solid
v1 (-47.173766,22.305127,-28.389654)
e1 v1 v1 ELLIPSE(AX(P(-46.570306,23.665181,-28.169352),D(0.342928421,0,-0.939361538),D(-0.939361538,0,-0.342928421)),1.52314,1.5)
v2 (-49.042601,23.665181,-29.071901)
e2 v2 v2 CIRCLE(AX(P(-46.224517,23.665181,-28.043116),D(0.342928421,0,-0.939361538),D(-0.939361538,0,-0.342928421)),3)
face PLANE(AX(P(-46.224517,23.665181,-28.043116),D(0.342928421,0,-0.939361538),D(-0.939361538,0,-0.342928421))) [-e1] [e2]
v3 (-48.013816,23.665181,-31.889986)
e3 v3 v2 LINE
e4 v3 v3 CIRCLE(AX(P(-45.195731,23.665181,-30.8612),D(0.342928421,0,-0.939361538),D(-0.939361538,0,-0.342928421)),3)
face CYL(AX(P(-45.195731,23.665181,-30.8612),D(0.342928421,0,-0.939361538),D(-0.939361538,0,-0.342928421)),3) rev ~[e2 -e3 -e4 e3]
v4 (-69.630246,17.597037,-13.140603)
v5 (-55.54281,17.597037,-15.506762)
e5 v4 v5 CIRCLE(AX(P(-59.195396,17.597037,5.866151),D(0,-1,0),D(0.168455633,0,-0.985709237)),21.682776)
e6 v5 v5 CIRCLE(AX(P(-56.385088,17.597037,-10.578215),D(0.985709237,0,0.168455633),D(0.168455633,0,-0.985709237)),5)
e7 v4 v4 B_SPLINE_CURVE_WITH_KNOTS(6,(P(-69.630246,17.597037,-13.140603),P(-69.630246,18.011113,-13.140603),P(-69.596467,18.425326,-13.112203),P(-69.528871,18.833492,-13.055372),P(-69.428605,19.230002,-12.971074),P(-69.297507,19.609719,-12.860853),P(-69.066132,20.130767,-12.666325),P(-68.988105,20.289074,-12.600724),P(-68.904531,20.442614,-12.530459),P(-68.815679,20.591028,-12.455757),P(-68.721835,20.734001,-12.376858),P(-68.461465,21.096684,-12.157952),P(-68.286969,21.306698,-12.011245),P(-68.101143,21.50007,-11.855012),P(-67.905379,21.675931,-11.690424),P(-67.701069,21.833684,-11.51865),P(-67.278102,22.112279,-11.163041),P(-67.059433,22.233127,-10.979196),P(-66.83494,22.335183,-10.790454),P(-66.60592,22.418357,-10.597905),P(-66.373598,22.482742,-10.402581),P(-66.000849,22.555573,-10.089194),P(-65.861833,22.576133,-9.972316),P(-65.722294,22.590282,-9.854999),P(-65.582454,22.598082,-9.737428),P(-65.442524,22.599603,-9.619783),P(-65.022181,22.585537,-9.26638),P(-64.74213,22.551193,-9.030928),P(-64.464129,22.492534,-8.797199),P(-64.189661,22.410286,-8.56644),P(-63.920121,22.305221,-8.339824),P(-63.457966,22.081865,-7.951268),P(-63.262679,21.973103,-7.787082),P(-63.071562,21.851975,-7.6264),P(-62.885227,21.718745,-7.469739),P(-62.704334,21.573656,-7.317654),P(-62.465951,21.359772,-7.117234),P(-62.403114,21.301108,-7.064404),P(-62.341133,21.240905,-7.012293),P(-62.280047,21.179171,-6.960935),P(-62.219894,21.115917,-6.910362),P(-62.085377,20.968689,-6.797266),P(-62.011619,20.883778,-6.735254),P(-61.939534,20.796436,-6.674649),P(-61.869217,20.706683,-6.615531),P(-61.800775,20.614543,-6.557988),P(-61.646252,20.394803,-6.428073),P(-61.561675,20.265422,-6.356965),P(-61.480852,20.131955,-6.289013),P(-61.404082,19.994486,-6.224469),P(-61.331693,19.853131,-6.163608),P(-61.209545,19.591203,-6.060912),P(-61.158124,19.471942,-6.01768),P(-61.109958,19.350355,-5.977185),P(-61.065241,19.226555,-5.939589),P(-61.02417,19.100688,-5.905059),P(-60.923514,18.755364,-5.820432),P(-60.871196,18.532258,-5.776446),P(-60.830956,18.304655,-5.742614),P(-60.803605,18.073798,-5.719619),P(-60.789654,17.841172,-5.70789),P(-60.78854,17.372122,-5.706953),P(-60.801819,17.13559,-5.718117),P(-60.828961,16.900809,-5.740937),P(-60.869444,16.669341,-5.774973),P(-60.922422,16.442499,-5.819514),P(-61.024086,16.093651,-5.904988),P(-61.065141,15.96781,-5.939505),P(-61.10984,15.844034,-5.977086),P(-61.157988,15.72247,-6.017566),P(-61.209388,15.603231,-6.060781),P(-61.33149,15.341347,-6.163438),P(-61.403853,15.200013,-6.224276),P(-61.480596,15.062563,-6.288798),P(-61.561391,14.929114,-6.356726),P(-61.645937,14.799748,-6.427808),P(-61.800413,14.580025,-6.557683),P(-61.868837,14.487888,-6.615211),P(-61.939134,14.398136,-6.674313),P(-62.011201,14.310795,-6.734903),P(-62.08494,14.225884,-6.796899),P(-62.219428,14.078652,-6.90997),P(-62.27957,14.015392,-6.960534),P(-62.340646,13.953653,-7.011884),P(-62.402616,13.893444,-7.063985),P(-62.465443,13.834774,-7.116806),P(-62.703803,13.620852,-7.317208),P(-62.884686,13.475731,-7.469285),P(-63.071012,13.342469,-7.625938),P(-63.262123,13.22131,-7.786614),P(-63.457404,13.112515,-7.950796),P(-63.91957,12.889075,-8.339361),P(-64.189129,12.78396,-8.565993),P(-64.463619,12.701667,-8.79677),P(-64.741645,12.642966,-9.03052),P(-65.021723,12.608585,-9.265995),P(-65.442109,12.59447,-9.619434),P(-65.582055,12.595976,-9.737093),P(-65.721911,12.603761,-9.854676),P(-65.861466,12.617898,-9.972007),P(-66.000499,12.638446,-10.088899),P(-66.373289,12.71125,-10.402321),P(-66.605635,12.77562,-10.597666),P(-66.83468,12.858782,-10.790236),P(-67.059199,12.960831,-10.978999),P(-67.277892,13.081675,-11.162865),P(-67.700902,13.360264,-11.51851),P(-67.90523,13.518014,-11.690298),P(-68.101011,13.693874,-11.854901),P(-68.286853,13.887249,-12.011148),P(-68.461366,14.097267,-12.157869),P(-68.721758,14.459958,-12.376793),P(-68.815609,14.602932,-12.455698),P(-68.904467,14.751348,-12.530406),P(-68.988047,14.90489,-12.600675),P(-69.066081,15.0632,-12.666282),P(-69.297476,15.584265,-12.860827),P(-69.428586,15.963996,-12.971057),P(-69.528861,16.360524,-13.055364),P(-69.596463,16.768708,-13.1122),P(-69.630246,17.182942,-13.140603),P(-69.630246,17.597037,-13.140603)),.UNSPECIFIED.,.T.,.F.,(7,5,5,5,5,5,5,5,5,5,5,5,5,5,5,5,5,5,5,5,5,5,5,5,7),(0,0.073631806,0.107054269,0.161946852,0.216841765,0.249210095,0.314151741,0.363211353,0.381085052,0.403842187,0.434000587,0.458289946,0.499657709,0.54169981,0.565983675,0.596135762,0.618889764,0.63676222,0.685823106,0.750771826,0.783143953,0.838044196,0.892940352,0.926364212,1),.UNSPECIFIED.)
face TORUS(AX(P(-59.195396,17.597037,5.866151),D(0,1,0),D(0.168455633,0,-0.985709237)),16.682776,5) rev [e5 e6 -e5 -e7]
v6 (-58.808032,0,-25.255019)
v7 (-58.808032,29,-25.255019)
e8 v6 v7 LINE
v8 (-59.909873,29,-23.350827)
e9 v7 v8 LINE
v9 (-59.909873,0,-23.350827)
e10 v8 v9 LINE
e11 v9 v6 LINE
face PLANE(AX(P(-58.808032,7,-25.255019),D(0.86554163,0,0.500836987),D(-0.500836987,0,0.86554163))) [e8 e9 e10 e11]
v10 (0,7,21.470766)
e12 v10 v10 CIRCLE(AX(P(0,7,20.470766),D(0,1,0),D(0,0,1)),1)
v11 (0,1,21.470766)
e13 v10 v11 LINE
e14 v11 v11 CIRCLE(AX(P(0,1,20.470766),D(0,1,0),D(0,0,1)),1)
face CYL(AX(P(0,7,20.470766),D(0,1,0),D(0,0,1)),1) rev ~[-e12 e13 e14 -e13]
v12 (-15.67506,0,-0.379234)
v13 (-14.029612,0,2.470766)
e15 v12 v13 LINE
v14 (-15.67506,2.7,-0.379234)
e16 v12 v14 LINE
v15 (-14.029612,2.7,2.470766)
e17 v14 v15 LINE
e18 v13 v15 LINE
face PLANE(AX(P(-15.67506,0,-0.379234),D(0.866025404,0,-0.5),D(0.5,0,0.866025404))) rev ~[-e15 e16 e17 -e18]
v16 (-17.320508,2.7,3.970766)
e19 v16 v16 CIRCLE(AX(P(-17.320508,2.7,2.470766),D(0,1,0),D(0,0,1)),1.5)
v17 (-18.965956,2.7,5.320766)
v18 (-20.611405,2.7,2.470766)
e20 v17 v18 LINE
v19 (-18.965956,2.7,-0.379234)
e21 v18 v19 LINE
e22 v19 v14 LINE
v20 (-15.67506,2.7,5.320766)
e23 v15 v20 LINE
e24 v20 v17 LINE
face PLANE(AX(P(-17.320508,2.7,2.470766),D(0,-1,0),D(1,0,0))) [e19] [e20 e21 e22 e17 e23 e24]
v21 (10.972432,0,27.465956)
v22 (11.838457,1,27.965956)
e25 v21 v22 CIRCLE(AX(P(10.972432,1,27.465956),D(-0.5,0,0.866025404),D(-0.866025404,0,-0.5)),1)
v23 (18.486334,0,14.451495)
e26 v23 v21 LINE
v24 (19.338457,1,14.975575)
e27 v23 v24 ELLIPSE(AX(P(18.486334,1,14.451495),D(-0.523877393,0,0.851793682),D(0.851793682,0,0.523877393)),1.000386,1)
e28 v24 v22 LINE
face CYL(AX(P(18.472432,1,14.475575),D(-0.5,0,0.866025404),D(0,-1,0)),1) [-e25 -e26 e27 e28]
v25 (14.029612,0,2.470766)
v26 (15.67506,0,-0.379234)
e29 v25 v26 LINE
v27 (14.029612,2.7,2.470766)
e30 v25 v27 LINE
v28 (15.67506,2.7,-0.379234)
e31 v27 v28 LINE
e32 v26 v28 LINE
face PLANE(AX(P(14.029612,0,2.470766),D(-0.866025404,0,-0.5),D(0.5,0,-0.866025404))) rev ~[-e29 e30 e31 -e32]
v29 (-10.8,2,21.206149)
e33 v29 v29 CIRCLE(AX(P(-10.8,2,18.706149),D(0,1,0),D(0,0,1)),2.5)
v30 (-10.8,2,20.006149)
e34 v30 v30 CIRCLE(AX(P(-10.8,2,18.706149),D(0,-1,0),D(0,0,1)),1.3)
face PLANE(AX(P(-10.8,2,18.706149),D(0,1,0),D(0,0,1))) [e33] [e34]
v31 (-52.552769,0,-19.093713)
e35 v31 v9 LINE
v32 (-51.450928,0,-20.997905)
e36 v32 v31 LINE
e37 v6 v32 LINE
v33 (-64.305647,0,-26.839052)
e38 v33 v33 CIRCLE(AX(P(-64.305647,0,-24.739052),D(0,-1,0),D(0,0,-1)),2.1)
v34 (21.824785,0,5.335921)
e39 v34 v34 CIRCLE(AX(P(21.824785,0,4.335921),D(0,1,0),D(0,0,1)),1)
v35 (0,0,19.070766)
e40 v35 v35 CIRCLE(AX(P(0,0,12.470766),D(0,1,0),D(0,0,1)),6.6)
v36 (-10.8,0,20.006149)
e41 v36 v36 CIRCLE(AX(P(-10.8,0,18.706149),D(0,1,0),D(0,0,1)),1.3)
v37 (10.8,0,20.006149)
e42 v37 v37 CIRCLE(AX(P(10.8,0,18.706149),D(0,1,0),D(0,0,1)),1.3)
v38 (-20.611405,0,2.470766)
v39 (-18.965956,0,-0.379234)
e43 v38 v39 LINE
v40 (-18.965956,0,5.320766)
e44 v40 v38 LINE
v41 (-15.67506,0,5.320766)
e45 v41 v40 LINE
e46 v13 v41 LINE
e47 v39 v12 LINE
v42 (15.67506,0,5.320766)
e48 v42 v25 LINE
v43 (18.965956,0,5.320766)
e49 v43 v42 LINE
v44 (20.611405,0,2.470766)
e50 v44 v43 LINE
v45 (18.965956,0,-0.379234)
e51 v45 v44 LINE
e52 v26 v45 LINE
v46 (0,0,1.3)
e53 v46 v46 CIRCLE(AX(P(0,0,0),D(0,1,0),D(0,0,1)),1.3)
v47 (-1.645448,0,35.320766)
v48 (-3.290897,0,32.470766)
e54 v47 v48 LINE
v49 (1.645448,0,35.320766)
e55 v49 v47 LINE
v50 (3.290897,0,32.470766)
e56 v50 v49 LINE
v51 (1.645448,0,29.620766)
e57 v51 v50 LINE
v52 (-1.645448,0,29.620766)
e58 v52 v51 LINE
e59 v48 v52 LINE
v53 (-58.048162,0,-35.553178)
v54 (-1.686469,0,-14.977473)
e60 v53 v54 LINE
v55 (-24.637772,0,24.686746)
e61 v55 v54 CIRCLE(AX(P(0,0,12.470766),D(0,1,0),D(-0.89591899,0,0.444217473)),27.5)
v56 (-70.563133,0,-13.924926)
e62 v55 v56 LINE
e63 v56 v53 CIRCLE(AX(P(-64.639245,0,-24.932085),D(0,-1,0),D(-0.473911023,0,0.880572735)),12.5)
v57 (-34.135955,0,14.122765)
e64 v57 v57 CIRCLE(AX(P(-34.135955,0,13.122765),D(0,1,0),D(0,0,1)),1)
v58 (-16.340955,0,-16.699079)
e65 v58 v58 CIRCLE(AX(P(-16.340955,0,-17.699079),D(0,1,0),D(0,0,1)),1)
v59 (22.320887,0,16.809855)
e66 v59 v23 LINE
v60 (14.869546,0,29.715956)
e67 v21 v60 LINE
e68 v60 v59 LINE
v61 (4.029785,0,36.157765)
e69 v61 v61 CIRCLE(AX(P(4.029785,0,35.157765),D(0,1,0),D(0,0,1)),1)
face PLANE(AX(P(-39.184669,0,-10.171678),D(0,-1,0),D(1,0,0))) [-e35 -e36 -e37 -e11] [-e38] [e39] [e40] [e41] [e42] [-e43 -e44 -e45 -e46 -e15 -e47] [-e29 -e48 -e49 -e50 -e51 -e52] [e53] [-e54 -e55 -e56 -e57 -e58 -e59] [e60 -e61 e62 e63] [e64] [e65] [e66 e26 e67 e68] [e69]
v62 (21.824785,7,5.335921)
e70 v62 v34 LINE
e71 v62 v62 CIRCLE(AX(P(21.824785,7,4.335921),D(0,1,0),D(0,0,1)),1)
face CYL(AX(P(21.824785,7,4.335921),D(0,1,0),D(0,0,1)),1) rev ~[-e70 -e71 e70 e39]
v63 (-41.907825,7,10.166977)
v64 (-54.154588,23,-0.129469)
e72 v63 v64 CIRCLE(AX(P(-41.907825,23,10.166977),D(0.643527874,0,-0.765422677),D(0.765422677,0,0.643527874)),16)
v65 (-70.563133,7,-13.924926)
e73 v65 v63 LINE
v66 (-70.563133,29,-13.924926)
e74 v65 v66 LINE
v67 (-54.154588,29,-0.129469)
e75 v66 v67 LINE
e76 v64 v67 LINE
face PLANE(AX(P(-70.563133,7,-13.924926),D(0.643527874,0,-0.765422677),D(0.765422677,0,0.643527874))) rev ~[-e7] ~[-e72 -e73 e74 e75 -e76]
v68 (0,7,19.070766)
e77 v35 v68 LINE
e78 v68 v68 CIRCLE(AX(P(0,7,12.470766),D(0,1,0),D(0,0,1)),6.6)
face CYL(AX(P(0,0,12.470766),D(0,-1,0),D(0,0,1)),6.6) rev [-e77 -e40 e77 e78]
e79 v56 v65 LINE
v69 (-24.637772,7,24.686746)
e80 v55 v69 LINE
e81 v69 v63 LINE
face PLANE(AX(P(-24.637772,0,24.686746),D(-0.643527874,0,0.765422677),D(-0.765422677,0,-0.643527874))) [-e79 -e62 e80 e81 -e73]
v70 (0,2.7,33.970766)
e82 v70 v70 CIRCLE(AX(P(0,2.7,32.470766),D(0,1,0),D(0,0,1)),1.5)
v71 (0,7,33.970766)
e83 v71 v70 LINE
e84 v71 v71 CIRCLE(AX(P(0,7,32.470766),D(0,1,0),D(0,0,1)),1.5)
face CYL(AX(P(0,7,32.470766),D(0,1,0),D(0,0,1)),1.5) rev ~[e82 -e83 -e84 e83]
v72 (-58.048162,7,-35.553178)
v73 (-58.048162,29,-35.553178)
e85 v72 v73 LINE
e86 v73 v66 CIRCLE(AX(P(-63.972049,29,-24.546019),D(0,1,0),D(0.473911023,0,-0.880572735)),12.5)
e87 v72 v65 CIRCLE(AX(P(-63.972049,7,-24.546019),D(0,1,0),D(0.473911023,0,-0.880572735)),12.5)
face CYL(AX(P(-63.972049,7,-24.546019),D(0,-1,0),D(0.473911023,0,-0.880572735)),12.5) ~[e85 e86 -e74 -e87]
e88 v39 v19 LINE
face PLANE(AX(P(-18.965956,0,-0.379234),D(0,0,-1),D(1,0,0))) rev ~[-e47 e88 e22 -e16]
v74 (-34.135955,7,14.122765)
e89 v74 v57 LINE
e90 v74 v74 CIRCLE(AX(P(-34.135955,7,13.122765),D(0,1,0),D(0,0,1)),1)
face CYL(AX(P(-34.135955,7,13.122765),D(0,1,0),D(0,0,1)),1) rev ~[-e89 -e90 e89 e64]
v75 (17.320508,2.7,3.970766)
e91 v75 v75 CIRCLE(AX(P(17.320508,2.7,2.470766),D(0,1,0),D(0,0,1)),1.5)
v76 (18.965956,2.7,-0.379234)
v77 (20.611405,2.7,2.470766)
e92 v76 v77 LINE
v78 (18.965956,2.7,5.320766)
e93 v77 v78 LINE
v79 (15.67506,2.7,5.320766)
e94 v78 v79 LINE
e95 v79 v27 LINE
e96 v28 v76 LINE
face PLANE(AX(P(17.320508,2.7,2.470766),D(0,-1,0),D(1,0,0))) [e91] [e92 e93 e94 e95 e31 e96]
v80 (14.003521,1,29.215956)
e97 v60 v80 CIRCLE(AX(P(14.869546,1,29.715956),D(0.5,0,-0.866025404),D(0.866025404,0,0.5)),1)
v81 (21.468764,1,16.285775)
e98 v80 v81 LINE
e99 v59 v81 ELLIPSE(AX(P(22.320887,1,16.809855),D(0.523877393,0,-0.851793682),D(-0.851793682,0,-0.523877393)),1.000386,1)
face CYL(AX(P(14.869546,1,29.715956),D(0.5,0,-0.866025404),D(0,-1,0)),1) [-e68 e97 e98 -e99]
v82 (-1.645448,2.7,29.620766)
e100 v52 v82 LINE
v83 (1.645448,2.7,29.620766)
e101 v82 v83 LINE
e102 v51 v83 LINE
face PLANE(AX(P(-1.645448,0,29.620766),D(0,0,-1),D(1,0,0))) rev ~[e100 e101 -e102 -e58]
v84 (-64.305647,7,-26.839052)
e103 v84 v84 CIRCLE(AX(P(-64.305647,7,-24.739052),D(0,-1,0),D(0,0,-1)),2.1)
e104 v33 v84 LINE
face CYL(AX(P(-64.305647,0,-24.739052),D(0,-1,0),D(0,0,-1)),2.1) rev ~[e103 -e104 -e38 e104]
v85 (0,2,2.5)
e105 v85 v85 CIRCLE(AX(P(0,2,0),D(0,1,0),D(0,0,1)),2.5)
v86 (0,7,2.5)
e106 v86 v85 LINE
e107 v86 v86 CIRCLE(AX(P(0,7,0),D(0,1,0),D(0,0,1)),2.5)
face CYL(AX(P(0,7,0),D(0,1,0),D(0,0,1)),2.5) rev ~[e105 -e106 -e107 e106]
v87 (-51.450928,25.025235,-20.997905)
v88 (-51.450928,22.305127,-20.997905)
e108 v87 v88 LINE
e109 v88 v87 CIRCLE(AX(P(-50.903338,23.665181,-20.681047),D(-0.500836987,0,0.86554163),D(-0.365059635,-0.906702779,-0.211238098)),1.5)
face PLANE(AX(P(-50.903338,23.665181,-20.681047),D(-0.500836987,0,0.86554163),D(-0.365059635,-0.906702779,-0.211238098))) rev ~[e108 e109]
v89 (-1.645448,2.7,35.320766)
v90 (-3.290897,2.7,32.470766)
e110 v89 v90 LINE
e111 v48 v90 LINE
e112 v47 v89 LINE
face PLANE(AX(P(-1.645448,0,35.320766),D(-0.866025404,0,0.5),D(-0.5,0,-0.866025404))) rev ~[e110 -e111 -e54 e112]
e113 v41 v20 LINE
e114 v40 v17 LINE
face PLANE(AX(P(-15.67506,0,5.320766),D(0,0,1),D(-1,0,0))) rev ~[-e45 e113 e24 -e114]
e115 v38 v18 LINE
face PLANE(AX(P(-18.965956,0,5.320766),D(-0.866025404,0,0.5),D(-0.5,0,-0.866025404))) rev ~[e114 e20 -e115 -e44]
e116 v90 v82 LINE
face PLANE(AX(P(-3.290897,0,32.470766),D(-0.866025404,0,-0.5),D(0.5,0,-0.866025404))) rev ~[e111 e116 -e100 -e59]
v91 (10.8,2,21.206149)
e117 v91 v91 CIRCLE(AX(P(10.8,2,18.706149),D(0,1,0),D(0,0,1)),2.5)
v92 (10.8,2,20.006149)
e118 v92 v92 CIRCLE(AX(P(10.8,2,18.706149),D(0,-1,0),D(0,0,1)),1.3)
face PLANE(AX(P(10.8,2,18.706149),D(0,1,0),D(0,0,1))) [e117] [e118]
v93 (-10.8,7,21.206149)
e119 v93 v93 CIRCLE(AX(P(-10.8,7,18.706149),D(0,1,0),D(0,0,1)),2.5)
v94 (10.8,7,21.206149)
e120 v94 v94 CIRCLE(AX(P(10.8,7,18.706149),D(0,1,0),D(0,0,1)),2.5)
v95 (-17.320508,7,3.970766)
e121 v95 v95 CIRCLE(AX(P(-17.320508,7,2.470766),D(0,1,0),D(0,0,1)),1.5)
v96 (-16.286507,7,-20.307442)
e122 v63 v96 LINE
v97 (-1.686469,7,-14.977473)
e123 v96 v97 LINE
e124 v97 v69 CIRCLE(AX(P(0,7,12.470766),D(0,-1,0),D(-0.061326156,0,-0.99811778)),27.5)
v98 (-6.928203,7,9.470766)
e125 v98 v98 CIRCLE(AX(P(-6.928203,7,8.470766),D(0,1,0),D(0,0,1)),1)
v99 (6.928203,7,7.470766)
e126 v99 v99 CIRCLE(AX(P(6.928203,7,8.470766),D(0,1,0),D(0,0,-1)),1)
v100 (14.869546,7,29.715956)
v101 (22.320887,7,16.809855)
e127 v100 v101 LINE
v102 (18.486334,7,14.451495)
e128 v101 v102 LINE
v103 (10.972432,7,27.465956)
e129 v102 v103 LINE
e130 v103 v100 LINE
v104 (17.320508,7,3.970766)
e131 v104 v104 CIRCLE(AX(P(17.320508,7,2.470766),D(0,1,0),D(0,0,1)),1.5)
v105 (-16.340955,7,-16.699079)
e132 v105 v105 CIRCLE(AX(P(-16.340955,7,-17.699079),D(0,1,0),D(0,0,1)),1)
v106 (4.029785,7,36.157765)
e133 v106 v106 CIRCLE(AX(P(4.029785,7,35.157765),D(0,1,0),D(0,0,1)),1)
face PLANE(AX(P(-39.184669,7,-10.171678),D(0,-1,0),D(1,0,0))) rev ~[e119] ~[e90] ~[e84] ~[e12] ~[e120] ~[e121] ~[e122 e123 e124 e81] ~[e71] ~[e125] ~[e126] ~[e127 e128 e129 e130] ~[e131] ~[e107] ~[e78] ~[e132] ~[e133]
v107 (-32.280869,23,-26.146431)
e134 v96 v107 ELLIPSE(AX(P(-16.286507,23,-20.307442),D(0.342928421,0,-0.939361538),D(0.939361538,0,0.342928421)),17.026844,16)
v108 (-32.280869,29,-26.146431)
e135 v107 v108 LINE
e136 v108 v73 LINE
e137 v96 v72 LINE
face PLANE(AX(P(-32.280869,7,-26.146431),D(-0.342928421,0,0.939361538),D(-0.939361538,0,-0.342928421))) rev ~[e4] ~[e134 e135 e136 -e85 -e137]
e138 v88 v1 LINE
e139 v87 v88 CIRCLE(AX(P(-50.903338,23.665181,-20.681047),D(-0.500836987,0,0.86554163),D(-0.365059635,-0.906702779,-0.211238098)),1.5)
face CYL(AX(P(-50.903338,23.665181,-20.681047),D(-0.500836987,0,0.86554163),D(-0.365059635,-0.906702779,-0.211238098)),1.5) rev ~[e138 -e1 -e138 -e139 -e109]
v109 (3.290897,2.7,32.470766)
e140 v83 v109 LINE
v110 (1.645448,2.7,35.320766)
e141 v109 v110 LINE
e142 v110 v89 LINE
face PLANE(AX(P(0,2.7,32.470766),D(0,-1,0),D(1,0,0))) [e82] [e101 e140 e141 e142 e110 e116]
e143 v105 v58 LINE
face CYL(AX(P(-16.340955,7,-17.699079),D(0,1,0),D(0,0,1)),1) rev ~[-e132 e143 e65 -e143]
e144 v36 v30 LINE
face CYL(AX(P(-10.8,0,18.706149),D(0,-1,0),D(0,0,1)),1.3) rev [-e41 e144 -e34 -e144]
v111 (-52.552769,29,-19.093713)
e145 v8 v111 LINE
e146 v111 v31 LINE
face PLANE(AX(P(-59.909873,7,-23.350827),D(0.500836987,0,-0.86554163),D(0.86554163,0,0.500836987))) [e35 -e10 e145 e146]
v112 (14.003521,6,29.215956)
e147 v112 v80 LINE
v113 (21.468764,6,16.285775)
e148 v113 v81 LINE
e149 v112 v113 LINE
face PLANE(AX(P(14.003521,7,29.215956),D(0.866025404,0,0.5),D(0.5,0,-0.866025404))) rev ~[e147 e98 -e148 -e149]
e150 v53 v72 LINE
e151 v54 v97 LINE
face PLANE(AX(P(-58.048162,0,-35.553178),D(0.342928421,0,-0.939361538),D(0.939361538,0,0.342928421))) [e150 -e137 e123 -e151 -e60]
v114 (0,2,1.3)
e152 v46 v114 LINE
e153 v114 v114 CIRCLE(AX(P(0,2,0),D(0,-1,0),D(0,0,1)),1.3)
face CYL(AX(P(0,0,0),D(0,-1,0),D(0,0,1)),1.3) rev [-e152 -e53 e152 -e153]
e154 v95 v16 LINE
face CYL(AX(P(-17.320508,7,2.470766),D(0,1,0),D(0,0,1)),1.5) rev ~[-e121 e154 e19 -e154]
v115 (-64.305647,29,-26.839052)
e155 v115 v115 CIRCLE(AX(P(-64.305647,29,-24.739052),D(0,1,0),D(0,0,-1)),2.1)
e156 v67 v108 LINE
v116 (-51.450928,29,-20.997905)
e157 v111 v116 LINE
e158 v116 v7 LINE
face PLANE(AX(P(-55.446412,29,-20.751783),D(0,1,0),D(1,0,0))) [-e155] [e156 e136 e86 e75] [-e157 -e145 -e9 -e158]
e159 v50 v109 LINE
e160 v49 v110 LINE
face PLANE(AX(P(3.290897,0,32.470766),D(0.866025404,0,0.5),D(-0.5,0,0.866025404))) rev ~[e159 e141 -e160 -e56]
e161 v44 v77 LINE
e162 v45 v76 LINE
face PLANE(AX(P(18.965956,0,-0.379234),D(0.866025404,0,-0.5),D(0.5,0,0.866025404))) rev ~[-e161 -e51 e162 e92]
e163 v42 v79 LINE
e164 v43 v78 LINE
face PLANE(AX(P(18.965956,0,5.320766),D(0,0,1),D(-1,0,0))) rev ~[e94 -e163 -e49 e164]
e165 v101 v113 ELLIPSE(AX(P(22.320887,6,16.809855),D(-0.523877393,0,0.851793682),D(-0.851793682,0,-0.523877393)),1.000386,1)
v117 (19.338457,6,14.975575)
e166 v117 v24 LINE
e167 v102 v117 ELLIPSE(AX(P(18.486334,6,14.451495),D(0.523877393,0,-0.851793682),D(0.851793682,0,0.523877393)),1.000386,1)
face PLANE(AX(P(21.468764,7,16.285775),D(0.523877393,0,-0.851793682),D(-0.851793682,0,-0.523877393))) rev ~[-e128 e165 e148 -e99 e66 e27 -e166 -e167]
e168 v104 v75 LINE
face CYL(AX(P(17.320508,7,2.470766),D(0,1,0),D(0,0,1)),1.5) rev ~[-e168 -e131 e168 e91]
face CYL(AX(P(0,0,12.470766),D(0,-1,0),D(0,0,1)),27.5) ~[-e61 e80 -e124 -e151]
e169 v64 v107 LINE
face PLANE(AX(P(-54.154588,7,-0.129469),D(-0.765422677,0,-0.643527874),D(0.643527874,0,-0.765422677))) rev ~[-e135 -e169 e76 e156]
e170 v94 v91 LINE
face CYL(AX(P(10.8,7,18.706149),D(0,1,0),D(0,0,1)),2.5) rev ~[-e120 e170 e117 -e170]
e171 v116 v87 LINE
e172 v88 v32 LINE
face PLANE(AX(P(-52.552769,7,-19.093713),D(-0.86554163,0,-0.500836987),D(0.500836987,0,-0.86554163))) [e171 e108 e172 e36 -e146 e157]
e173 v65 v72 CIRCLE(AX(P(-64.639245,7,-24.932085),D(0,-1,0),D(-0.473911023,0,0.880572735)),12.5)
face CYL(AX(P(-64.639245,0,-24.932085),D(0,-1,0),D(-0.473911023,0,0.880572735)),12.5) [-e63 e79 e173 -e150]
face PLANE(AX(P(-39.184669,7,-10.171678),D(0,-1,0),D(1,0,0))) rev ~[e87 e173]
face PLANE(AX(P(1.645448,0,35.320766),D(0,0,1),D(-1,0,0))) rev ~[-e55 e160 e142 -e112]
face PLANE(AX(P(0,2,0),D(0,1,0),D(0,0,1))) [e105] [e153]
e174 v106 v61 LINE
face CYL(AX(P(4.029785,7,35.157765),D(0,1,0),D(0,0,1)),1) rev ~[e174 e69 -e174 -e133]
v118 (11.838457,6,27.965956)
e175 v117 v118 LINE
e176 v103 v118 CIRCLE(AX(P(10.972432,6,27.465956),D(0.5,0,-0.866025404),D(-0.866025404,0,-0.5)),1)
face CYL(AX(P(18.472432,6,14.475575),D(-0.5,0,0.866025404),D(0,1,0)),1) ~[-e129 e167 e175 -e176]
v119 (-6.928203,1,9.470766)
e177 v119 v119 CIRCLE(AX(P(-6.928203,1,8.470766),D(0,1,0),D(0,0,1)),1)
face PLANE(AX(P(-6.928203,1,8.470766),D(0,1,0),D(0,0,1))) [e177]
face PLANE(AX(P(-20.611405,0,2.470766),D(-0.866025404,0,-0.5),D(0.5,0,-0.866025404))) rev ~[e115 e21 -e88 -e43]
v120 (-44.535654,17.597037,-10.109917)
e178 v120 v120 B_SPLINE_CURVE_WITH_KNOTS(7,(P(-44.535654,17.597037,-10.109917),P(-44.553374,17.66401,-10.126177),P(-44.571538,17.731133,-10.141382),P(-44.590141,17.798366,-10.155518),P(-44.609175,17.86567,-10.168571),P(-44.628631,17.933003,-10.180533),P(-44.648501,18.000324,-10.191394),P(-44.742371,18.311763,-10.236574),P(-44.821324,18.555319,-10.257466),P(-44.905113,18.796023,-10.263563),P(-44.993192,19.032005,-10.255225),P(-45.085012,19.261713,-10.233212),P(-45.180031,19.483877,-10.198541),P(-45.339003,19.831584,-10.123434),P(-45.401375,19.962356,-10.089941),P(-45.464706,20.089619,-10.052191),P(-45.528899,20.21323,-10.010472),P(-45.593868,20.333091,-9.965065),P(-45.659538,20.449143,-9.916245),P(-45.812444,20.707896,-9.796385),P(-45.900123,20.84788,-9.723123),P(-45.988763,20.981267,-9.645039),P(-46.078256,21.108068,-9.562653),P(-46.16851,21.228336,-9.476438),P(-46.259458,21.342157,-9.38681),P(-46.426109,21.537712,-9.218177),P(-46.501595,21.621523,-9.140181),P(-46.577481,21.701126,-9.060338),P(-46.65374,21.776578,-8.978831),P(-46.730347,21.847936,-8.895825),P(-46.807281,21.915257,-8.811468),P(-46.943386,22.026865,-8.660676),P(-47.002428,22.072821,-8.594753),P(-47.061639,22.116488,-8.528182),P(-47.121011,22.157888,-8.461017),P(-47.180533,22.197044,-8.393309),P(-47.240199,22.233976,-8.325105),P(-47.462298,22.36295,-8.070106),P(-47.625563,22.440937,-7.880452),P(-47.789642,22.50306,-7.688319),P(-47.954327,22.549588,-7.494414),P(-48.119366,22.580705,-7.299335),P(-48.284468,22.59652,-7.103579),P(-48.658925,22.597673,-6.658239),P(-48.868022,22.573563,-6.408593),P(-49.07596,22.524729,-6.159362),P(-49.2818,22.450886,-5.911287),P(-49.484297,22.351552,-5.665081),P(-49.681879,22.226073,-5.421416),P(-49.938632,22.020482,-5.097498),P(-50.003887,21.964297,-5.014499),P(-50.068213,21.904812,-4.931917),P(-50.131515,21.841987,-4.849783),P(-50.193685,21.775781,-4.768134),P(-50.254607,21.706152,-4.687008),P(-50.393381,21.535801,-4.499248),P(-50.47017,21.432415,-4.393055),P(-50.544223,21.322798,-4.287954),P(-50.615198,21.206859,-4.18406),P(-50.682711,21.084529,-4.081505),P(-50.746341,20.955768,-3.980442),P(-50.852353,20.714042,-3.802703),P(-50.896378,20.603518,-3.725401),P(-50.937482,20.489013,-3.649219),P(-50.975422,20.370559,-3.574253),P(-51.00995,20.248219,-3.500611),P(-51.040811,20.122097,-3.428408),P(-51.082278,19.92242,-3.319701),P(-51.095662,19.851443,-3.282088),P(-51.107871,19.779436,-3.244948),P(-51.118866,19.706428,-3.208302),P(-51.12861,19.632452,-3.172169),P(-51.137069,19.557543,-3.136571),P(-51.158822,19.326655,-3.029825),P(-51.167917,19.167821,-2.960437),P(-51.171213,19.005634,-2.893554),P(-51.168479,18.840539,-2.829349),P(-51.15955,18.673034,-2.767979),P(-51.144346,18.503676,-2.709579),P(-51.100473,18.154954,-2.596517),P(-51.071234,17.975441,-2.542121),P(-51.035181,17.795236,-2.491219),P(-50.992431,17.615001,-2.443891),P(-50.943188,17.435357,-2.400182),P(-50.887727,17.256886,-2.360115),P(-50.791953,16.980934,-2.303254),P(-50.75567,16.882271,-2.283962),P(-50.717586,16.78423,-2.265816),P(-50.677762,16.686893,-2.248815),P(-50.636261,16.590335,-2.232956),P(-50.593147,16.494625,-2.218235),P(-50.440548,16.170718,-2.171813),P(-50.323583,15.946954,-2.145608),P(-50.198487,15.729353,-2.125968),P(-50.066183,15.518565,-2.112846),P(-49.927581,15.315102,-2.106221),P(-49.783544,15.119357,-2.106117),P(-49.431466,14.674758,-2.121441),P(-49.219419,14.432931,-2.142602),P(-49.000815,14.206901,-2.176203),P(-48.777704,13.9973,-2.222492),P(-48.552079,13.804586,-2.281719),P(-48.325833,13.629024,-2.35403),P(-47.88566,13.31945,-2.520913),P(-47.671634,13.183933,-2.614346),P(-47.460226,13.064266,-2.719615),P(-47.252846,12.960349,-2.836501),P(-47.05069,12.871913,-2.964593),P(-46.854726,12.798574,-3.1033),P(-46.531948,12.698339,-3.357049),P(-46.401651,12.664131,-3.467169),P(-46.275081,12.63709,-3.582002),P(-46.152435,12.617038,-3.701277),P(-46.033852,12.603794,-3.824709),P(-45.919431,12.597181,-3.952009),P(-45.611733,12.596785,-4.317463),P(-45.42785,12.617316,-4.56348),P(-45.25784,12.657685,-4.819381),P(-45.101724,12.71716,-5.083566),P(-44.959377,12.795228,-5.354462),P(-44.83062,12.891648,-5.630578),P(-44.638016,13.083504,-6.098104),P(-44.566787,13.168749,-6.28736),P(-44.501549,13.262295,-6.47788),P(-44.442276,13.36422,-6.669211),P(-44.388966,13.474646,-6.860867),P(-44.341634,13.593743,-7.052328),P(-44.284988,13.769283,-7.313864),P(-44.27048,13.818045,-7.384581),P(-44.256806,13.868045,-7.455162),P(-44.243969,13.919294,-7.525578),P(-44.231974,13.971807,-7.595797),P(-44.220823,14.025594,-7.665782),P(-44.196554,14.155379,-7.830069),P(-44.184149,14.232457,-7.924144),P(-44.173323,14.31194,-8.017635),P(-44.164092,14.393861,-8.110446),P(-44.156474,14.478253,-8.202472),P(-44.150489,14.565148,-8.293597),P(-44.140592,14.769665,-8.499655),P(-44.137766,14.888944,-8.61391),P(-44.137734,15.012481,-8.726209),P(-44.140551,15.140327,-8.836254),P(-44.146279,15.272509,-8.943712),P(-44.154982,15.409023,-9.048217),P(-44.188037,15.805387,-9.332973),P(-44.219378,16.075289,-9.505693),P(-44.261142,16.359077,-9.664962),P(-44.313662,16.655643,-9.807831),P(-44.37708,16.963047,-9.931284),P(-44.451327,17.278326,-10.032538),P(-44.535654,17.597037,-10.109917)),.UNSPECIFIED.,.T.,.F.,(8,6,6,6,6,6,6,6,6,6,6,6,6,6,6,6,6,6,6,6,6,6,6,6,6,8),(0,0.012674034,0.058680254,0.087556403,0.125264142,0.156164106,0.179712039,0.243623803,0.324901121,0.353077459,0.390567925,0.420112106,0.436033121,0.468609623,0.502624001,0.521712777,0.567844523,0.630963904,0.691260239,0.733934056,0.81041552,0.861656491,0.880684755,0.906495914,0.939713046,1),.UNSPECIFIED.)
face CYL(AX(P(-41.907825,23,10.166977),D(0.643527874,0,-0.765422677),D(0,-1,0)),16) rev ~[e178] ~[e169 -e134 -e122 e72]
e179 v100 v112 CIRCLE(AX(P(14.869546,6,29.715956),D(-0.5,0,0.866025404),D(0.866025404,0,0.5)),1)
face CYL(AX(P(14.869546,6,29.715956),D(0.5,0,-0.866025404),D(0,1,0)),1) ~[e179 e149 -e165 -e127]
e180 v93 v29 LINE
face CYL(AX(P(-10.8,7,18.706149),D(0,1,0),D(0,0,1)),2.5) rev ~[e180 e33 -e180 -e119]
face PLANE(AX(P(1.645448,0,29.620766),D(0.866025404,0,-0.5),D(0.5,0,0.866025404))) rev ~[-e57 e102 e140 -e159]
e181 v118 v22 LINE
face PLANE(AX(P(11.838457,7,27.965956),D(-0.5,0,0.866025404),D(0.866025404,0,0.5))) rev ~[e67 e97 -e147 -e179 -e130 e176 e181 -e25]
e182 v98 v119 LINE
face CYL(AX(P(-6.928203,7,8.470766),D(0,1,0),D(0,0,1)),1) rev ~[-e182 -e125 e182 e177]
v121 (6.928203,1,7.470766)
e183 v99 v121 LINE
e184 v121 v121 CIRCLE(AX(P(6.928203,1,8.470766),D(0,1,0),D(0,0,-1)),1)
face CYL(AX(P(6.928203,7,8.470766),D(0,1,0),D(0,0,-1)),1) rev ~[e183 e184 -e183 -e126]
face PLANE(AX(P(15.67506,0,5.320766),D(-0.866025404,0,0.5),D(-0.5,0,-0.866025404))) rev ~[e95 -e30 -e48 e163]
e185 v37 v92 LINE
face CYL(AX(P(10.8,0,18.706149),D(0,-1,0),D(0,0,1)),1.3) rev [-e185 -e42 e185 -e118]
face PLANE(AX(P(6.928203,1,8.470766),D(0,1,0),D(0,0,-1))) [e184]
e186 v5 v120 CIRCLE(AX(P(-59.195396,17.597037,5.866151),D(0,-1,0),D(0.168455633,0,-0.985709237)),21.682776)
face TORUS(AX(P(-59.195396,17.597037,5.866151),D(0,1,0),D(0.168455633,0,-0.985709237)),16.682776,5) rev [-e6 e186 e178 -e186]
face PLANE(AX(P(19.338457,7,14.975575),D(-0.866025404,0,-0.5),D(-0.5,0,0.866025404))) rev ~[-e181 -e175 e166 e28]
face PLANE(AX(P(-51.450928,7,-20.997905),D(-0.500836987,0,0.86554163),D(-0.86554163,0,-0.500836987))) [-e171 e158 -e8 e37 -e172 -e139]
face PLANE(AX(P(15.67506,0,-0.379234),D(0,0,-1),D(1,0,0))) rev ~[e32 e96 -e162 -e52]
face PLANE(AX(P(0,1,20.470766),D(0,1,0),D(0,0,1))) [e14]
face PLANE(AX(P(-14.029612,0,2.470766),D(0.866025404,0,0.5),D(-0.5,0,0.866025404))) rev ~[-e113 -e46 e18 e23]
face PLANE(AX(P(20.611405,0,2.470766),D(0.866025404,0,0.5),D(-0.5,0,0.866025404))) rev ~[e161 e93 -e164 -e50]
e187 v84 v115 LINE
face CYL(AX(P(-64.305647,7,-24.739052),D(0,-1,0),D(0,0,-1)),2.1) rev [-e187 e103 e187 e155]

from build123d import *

# Parameters (mm, degrees)
SKETCH_1_R           = 27.5
SKETCH_1_R_2         = 6.6
SKETCH_1_R_3         = 1.3
EXTRUDE_1_DEPTH      = 7
SKETCH_2_R           = 2.5
CUT_EXTRUDE_2_DEPTH  = 5
SKETCH_4_R           = 1
CUT_EXTRUDE_3_DEPTH  = 6
SKETCH_5_R           = 1.5
CUT_EXTRUDE_4_DEPTH  = 50.019507543
CUT_EXTRUDE_5_DEPTH  = 2.7
CUT_EXTRUDE_6_DEPTH  = 10
FILLET_1_R           = 1
SKETCH_9_R           = 2.1
EXTRUDE_3_DEPTH      = 7
SKETCH_13_R          = 1
CUT_EXTRUDE_9_DEPTH  = 88.1614895
SKETCH_14_R          = 2.1
EXTRUDE_4_DEPTH      = 22
FILLET_2_R           = 16
SKETCH_15_R          = 1.5
CUT_EXTRUDE_10_DEPTH = 91.308323515
SKETCH_16_R          = 3
CUT_EXTRUDE_11_DEPTH = 3
SKETCH_17_R          = 5


with BuildPart() as part:
    # 草图1 → 凸台-拉伸1 (new body)
    with BuildSketch(Plane(origin=(0, 0, 0), x_dir=(1, 0, 0), z_dir=(0, 1, 0))):
        with Locations(Location((0, -12.470765814, 0), (0, 0, 270))):
            Circle(SKETCH_1_R)
        with Locations(Location((0, -12.470765814, 0), (0, 0, 270))):
            Circle(SKETCH_1_R_2, mode=Mode.SUBTRACT)
        with Locations(Location((-10.8, -18.706148722, 0), (0, 0, 270))):
            Circle(SKETCH_1_R_3, mode=Mode.SUBTRACT)
        with Locations(Location((10.8, -18.706148722, 0), (0, 0, 270))):
            Circle(SKETCH_1_R_3, mode=Mode.SUBTRACT)
        with Locations(Location((0, 0, 0), (0, 0, 270))):
            Circle(SKETCH_1_R_3, mode=Mode.SUBTRACT)
    extrude(amount=EXTRUDE_1_DEPTH)

    # 草图2 → 切除-拉伸2 (cut)
    with BuildSketch(Plane(origin=(0, 7, 0), x_dir=(1, 0, 0), z_dir=(0, 1, 0))):
        with Locations(Location((-10.8, -18.706148722, 0), (0, 0, 270))):
            Circle(SKETCH_2_R)
        with Locations(Location((10.8, -18.706148722, 0), (0, 0, 270))):
            Circle(SKETCH_2_R)
        with Locations(Location((0, 0, 0), (0, 0, 270))):
            Circle(SKETCH_2_R)
    extrude(amount=-CUT_EXTRUDE_2_DEPTH, mode=Mode.SUBTRACT)

    # 草图4 → 切除-拉伸3 (cut)
    with BuildSketch(Plane(origin=(0, 7, 0), x_dir=(1, 0, 0), z_dir=(0, 1, 0))):
        with Locations(Location((-6.92820323, -8.470765814, 0), (0, 0, 270))):
            Circle(SKETCH_4_R)
        with Locations(Location((6.92820323, -8.470765814, 0), (0, 0, 90))):
            Circle(SKETCH_4_R)
        with Locations(Location((0, -20.470765814, 0), (0, 0, 270))):
            Circle(SKETCH_4_R)
    extrude(amount=-CUT_EXTRUDE_3_DEPTH, mode=Mode.SUBTRACT)

    # 草图5 → 切除-拉伸4 (cut, through all)
    with BuildSketch(Plane(origin=(0, 7, 0), x_dir=(1, 0, 0), z_dir=(0, 1, 0))):
        with Locations(Location((-17.320508076, -2.470765814, 0), (0, 0, 270))):
            Circle(SKETCH_5_R)
        with Locations(Location((0, -32.470765814, 0), (0, 0, 270))):
            Circle(SKETCH_5_R)
        with Locations(Location((17.320508076, -2.470765814, 0), (0, 0, 270))):
            Circle(SKETCH_5_R)
    extrude(amount=-CUT_EXTRUDE_4_DEPTH, mode=Mode.SUBTRACT)

    # 草图6 → 切除-拉伸5 (cut)
    with BuildSketch(Plane.XZ):
        Polygon((3.290896534, 32.470765814), (1.645448267, 35.320765814), (-1.645448267, 35.320765814), (-3.290896534, 32.470765814), (-1.645448267, 29.620765814), (1.645448267, 29.620765814), align=None)
        Polygon((20.61140461, 2.470765814), (18.965956343, 5.320765814), (15.675059808, 5.320765814), (14.029611541, 2.470765814), (15.675059808, -0.379234186), (18.965956343, -0.379234186), align=None)
        Polygon((-14.029611541, 2.470765814), (-15.675059808, 5.320765814), (-18.965956343, 5.320765814), (-20.61140461, 2.470765814), (-18.965956343, -0.379234186), (-15.675059808, -0.379234186), align=None)
    extrude(amount=-CUT_EXTRUDE_5_DEPTH, mode=Mode.SUBTRACT)

    # 草图7 → 切除-拉伸6 (cut)
    with BuildSketch(Plane(origin=(0, 7, 0), x_dir=(1, 0, 0), z_dir=(0, 1, 0))):
        Polygon((19.338457268, -14.975575286), (11.838457268, -27.965956343), (14.003520778, -29.215956343), (21.468764488, -16.285774946), align=None)
    extrude(amount=-CUT_EXTRUDE_6_DEPTH, mode=Mode.SUBTRACT)

    # 圆角1
    fillet_1_edges = [part.edges().sort_by_distance(p)[0] for p in [
        (15.588457268, 0, 21.470765814),
        (17.736142633, 0, 22.750865644),
        (15.588457268, 7, 21.470765814),
        (17.736142633, 7, 22.750865644),
    ]]
    fillet(fillet_1_edges, radius=FILLET_1_R)

    # 草图9 → 凸台-拉伸3 (add)
    with BuildSketch(Plane.XZ):
        with BuildLine():
            Line((-24.637772228, 24.686746318), (-70.563132874, -13.924926133))
            ThreePointArc((-70.563132874, -13.924926133), (-75.458515455, -31.192547657), (-58.048161541, -35.553178381))
            Line((-58.048161541, -35.553178381), (-1.686469289, -14.977473133))
            Line((-1.686469289, -14.977473133), (-0.82500702, -15.016856189))
            Line((-0.82500702, -15.016856189), (-16.980808265, -9.160280176))
            Line((-16.980808265, -9.160280176), (-27.376809202, 9.870704679))
            Line((-27.376809202, 9.870704679), (-24.198243857, 25.535795253))
            Line((-24.198243857, 25.535795253), (-24.637772228, 24.686746318))
        make_face()
        with Locations(Location((-64.305647208, -24.739052257, 0), (0, 0, 270))):
            Circle(SKETCH_9_R, mode=Mode.SUBTRACT)
        Polygon((-58.808031517, -25.255019032), (-51.450927664, -20.997904645), (-52.552769035, -19.09371306), (-59.909872887, -23.350827447), align=None, mode=Mode.SUBTRACT)
    extrude(amount=-EXTRUDE_3_DEPTH)

    # 草图13 → 切除-拉伸9 (cut, through all)
    with BuildSketch(Plane(origin=(0, 7, 0), x_dir=(1, 0, 0), z_dir=(0, 1, 0))):
        with Locations(Location((4.029784687, -35.157765041, 0), (0, 0, 270))):
            Circle(SKETCH_13_R)
        with Locations(Location((21.824784687, -4.33592092, 0), (0, 0, 270))):
            Circle(SKETCH_13_R)
        with Locations(Location((-16.340954858, 17.69907908, 0), (0, 0, 270))):
            Circle(SKETCH_13_R)
        with Locations(Location((-34.135954858, -13.122765041, 0), (0, 0, 270))):
            Circle(SKETCH_13_R)
    extrude(amount=-CUT_EXTRUDE_9_DEPTH, mode=Mode.SUBTRACT)

    # 草图14 → 凸台-拉伸4 (add)
    with BuildSketch(Plane(origin=(0, 7, 0), x_dir=(1, 0, 0), z_dir=(0, 1, 0))):
        with BuildLine():
            Line((-70.563132874, 13.924926133), (-54.154588064, 0.129468707))
            Line((-54.154588064, 0.129468707), (-32.28086935, 26.146430855))
            Line((-32.28086935, 26.146430855), (-58.048161541, 35.553178381))
            ThreePointArc((-58.048161541, 35.553178381), (-74.791319703, 30.806481525), (-70.563132874, 13.924926133))
        make_face()
        with Locations(Location((-64.305647208, 24.739052257, 0), (0, 0, 90))):
            Circle(SKETCH_14_R, mode=Mode.SUBTRACT)
        Polygon((-58.808031517, 25.255019032), (-59.909872887, 23.350827447), (-52.552769035, 19.09371306), (-51.450927664, 20.997904645), align=None, mode=Mode.SUBTRACT)
    extrude(amount=EXTRUDE_4_DEPTH)

    # 圆角2
    fillet_2_edges = [part.edges().sort_by_distance(p)[0] for p in [
        (-43.217728707, 7, -13.137949781),
    ]]
    fillet(fillet_2_edges, radius=FILLET_2_R)

    # 草图15 → 切除-拉伸10 (cut, through all)
    with BuildSketch(Plane(origin=(-3.803339533, 0, 6.572894544), x_dir=(0.8655416297077619, 0, 0.5008369866961021), z_dir=(-0.5008369866961021, 0, 0.865541629707762))):
        with Locations(Location((-54.416791824, 23.665181086, 0), (0, 0, 245.053604138))):
            Circle(SKETCH_15_R)
    extrude(amount=-CUT_EXTRUDE_10_DEPTH, mode=Mode.SUBTRACT)

    # 草图16 → 切除-拉伸11 (cut)
    with BuildSketch(Plane(origin=(4.626421242, 0, -12.672855056), x_dir=(-0.9393615375389992, 0, -0.3429284207999792), z_dir=(0.3429284207999792, 0, -0.9393615375389992))):
        with Locations((53.038314469, 23.665181086)):
            Circle(SKETCH_16_R)
    extrude(amount=-CUT_EXTRUDE_11_DEPTH, mode=Mode.SUBTRACT)

    # 草图17 → 切除-旋转1 (revolve, cut)
    with BuildSketch(Plane(origin=(-31.791422565, 0, -26.728586941), x_dir=(0.6435278741872098, 0, -0.7654226774430521), z_dir=(0.7654226774430521, 0, 0.6435278741872098)), mode=Mode.PRIVATE) as cut_revolve_1_sk:
        with Locations((-25.901195998, 17.59703733)):
            Circle(SKETCH_17_R)
    revolve(cut_revolve_1_sk.sketch.rotate(Axis((-59.195395552, 24.020808836, 5.866150937), (0, -1, 0)), 329.642648375), axis=Axis((-59.195395552, 24.020808836, 5.866150937), (0, -1, 0)), mode=Mode.SUBTRACT)


solid = part.part
